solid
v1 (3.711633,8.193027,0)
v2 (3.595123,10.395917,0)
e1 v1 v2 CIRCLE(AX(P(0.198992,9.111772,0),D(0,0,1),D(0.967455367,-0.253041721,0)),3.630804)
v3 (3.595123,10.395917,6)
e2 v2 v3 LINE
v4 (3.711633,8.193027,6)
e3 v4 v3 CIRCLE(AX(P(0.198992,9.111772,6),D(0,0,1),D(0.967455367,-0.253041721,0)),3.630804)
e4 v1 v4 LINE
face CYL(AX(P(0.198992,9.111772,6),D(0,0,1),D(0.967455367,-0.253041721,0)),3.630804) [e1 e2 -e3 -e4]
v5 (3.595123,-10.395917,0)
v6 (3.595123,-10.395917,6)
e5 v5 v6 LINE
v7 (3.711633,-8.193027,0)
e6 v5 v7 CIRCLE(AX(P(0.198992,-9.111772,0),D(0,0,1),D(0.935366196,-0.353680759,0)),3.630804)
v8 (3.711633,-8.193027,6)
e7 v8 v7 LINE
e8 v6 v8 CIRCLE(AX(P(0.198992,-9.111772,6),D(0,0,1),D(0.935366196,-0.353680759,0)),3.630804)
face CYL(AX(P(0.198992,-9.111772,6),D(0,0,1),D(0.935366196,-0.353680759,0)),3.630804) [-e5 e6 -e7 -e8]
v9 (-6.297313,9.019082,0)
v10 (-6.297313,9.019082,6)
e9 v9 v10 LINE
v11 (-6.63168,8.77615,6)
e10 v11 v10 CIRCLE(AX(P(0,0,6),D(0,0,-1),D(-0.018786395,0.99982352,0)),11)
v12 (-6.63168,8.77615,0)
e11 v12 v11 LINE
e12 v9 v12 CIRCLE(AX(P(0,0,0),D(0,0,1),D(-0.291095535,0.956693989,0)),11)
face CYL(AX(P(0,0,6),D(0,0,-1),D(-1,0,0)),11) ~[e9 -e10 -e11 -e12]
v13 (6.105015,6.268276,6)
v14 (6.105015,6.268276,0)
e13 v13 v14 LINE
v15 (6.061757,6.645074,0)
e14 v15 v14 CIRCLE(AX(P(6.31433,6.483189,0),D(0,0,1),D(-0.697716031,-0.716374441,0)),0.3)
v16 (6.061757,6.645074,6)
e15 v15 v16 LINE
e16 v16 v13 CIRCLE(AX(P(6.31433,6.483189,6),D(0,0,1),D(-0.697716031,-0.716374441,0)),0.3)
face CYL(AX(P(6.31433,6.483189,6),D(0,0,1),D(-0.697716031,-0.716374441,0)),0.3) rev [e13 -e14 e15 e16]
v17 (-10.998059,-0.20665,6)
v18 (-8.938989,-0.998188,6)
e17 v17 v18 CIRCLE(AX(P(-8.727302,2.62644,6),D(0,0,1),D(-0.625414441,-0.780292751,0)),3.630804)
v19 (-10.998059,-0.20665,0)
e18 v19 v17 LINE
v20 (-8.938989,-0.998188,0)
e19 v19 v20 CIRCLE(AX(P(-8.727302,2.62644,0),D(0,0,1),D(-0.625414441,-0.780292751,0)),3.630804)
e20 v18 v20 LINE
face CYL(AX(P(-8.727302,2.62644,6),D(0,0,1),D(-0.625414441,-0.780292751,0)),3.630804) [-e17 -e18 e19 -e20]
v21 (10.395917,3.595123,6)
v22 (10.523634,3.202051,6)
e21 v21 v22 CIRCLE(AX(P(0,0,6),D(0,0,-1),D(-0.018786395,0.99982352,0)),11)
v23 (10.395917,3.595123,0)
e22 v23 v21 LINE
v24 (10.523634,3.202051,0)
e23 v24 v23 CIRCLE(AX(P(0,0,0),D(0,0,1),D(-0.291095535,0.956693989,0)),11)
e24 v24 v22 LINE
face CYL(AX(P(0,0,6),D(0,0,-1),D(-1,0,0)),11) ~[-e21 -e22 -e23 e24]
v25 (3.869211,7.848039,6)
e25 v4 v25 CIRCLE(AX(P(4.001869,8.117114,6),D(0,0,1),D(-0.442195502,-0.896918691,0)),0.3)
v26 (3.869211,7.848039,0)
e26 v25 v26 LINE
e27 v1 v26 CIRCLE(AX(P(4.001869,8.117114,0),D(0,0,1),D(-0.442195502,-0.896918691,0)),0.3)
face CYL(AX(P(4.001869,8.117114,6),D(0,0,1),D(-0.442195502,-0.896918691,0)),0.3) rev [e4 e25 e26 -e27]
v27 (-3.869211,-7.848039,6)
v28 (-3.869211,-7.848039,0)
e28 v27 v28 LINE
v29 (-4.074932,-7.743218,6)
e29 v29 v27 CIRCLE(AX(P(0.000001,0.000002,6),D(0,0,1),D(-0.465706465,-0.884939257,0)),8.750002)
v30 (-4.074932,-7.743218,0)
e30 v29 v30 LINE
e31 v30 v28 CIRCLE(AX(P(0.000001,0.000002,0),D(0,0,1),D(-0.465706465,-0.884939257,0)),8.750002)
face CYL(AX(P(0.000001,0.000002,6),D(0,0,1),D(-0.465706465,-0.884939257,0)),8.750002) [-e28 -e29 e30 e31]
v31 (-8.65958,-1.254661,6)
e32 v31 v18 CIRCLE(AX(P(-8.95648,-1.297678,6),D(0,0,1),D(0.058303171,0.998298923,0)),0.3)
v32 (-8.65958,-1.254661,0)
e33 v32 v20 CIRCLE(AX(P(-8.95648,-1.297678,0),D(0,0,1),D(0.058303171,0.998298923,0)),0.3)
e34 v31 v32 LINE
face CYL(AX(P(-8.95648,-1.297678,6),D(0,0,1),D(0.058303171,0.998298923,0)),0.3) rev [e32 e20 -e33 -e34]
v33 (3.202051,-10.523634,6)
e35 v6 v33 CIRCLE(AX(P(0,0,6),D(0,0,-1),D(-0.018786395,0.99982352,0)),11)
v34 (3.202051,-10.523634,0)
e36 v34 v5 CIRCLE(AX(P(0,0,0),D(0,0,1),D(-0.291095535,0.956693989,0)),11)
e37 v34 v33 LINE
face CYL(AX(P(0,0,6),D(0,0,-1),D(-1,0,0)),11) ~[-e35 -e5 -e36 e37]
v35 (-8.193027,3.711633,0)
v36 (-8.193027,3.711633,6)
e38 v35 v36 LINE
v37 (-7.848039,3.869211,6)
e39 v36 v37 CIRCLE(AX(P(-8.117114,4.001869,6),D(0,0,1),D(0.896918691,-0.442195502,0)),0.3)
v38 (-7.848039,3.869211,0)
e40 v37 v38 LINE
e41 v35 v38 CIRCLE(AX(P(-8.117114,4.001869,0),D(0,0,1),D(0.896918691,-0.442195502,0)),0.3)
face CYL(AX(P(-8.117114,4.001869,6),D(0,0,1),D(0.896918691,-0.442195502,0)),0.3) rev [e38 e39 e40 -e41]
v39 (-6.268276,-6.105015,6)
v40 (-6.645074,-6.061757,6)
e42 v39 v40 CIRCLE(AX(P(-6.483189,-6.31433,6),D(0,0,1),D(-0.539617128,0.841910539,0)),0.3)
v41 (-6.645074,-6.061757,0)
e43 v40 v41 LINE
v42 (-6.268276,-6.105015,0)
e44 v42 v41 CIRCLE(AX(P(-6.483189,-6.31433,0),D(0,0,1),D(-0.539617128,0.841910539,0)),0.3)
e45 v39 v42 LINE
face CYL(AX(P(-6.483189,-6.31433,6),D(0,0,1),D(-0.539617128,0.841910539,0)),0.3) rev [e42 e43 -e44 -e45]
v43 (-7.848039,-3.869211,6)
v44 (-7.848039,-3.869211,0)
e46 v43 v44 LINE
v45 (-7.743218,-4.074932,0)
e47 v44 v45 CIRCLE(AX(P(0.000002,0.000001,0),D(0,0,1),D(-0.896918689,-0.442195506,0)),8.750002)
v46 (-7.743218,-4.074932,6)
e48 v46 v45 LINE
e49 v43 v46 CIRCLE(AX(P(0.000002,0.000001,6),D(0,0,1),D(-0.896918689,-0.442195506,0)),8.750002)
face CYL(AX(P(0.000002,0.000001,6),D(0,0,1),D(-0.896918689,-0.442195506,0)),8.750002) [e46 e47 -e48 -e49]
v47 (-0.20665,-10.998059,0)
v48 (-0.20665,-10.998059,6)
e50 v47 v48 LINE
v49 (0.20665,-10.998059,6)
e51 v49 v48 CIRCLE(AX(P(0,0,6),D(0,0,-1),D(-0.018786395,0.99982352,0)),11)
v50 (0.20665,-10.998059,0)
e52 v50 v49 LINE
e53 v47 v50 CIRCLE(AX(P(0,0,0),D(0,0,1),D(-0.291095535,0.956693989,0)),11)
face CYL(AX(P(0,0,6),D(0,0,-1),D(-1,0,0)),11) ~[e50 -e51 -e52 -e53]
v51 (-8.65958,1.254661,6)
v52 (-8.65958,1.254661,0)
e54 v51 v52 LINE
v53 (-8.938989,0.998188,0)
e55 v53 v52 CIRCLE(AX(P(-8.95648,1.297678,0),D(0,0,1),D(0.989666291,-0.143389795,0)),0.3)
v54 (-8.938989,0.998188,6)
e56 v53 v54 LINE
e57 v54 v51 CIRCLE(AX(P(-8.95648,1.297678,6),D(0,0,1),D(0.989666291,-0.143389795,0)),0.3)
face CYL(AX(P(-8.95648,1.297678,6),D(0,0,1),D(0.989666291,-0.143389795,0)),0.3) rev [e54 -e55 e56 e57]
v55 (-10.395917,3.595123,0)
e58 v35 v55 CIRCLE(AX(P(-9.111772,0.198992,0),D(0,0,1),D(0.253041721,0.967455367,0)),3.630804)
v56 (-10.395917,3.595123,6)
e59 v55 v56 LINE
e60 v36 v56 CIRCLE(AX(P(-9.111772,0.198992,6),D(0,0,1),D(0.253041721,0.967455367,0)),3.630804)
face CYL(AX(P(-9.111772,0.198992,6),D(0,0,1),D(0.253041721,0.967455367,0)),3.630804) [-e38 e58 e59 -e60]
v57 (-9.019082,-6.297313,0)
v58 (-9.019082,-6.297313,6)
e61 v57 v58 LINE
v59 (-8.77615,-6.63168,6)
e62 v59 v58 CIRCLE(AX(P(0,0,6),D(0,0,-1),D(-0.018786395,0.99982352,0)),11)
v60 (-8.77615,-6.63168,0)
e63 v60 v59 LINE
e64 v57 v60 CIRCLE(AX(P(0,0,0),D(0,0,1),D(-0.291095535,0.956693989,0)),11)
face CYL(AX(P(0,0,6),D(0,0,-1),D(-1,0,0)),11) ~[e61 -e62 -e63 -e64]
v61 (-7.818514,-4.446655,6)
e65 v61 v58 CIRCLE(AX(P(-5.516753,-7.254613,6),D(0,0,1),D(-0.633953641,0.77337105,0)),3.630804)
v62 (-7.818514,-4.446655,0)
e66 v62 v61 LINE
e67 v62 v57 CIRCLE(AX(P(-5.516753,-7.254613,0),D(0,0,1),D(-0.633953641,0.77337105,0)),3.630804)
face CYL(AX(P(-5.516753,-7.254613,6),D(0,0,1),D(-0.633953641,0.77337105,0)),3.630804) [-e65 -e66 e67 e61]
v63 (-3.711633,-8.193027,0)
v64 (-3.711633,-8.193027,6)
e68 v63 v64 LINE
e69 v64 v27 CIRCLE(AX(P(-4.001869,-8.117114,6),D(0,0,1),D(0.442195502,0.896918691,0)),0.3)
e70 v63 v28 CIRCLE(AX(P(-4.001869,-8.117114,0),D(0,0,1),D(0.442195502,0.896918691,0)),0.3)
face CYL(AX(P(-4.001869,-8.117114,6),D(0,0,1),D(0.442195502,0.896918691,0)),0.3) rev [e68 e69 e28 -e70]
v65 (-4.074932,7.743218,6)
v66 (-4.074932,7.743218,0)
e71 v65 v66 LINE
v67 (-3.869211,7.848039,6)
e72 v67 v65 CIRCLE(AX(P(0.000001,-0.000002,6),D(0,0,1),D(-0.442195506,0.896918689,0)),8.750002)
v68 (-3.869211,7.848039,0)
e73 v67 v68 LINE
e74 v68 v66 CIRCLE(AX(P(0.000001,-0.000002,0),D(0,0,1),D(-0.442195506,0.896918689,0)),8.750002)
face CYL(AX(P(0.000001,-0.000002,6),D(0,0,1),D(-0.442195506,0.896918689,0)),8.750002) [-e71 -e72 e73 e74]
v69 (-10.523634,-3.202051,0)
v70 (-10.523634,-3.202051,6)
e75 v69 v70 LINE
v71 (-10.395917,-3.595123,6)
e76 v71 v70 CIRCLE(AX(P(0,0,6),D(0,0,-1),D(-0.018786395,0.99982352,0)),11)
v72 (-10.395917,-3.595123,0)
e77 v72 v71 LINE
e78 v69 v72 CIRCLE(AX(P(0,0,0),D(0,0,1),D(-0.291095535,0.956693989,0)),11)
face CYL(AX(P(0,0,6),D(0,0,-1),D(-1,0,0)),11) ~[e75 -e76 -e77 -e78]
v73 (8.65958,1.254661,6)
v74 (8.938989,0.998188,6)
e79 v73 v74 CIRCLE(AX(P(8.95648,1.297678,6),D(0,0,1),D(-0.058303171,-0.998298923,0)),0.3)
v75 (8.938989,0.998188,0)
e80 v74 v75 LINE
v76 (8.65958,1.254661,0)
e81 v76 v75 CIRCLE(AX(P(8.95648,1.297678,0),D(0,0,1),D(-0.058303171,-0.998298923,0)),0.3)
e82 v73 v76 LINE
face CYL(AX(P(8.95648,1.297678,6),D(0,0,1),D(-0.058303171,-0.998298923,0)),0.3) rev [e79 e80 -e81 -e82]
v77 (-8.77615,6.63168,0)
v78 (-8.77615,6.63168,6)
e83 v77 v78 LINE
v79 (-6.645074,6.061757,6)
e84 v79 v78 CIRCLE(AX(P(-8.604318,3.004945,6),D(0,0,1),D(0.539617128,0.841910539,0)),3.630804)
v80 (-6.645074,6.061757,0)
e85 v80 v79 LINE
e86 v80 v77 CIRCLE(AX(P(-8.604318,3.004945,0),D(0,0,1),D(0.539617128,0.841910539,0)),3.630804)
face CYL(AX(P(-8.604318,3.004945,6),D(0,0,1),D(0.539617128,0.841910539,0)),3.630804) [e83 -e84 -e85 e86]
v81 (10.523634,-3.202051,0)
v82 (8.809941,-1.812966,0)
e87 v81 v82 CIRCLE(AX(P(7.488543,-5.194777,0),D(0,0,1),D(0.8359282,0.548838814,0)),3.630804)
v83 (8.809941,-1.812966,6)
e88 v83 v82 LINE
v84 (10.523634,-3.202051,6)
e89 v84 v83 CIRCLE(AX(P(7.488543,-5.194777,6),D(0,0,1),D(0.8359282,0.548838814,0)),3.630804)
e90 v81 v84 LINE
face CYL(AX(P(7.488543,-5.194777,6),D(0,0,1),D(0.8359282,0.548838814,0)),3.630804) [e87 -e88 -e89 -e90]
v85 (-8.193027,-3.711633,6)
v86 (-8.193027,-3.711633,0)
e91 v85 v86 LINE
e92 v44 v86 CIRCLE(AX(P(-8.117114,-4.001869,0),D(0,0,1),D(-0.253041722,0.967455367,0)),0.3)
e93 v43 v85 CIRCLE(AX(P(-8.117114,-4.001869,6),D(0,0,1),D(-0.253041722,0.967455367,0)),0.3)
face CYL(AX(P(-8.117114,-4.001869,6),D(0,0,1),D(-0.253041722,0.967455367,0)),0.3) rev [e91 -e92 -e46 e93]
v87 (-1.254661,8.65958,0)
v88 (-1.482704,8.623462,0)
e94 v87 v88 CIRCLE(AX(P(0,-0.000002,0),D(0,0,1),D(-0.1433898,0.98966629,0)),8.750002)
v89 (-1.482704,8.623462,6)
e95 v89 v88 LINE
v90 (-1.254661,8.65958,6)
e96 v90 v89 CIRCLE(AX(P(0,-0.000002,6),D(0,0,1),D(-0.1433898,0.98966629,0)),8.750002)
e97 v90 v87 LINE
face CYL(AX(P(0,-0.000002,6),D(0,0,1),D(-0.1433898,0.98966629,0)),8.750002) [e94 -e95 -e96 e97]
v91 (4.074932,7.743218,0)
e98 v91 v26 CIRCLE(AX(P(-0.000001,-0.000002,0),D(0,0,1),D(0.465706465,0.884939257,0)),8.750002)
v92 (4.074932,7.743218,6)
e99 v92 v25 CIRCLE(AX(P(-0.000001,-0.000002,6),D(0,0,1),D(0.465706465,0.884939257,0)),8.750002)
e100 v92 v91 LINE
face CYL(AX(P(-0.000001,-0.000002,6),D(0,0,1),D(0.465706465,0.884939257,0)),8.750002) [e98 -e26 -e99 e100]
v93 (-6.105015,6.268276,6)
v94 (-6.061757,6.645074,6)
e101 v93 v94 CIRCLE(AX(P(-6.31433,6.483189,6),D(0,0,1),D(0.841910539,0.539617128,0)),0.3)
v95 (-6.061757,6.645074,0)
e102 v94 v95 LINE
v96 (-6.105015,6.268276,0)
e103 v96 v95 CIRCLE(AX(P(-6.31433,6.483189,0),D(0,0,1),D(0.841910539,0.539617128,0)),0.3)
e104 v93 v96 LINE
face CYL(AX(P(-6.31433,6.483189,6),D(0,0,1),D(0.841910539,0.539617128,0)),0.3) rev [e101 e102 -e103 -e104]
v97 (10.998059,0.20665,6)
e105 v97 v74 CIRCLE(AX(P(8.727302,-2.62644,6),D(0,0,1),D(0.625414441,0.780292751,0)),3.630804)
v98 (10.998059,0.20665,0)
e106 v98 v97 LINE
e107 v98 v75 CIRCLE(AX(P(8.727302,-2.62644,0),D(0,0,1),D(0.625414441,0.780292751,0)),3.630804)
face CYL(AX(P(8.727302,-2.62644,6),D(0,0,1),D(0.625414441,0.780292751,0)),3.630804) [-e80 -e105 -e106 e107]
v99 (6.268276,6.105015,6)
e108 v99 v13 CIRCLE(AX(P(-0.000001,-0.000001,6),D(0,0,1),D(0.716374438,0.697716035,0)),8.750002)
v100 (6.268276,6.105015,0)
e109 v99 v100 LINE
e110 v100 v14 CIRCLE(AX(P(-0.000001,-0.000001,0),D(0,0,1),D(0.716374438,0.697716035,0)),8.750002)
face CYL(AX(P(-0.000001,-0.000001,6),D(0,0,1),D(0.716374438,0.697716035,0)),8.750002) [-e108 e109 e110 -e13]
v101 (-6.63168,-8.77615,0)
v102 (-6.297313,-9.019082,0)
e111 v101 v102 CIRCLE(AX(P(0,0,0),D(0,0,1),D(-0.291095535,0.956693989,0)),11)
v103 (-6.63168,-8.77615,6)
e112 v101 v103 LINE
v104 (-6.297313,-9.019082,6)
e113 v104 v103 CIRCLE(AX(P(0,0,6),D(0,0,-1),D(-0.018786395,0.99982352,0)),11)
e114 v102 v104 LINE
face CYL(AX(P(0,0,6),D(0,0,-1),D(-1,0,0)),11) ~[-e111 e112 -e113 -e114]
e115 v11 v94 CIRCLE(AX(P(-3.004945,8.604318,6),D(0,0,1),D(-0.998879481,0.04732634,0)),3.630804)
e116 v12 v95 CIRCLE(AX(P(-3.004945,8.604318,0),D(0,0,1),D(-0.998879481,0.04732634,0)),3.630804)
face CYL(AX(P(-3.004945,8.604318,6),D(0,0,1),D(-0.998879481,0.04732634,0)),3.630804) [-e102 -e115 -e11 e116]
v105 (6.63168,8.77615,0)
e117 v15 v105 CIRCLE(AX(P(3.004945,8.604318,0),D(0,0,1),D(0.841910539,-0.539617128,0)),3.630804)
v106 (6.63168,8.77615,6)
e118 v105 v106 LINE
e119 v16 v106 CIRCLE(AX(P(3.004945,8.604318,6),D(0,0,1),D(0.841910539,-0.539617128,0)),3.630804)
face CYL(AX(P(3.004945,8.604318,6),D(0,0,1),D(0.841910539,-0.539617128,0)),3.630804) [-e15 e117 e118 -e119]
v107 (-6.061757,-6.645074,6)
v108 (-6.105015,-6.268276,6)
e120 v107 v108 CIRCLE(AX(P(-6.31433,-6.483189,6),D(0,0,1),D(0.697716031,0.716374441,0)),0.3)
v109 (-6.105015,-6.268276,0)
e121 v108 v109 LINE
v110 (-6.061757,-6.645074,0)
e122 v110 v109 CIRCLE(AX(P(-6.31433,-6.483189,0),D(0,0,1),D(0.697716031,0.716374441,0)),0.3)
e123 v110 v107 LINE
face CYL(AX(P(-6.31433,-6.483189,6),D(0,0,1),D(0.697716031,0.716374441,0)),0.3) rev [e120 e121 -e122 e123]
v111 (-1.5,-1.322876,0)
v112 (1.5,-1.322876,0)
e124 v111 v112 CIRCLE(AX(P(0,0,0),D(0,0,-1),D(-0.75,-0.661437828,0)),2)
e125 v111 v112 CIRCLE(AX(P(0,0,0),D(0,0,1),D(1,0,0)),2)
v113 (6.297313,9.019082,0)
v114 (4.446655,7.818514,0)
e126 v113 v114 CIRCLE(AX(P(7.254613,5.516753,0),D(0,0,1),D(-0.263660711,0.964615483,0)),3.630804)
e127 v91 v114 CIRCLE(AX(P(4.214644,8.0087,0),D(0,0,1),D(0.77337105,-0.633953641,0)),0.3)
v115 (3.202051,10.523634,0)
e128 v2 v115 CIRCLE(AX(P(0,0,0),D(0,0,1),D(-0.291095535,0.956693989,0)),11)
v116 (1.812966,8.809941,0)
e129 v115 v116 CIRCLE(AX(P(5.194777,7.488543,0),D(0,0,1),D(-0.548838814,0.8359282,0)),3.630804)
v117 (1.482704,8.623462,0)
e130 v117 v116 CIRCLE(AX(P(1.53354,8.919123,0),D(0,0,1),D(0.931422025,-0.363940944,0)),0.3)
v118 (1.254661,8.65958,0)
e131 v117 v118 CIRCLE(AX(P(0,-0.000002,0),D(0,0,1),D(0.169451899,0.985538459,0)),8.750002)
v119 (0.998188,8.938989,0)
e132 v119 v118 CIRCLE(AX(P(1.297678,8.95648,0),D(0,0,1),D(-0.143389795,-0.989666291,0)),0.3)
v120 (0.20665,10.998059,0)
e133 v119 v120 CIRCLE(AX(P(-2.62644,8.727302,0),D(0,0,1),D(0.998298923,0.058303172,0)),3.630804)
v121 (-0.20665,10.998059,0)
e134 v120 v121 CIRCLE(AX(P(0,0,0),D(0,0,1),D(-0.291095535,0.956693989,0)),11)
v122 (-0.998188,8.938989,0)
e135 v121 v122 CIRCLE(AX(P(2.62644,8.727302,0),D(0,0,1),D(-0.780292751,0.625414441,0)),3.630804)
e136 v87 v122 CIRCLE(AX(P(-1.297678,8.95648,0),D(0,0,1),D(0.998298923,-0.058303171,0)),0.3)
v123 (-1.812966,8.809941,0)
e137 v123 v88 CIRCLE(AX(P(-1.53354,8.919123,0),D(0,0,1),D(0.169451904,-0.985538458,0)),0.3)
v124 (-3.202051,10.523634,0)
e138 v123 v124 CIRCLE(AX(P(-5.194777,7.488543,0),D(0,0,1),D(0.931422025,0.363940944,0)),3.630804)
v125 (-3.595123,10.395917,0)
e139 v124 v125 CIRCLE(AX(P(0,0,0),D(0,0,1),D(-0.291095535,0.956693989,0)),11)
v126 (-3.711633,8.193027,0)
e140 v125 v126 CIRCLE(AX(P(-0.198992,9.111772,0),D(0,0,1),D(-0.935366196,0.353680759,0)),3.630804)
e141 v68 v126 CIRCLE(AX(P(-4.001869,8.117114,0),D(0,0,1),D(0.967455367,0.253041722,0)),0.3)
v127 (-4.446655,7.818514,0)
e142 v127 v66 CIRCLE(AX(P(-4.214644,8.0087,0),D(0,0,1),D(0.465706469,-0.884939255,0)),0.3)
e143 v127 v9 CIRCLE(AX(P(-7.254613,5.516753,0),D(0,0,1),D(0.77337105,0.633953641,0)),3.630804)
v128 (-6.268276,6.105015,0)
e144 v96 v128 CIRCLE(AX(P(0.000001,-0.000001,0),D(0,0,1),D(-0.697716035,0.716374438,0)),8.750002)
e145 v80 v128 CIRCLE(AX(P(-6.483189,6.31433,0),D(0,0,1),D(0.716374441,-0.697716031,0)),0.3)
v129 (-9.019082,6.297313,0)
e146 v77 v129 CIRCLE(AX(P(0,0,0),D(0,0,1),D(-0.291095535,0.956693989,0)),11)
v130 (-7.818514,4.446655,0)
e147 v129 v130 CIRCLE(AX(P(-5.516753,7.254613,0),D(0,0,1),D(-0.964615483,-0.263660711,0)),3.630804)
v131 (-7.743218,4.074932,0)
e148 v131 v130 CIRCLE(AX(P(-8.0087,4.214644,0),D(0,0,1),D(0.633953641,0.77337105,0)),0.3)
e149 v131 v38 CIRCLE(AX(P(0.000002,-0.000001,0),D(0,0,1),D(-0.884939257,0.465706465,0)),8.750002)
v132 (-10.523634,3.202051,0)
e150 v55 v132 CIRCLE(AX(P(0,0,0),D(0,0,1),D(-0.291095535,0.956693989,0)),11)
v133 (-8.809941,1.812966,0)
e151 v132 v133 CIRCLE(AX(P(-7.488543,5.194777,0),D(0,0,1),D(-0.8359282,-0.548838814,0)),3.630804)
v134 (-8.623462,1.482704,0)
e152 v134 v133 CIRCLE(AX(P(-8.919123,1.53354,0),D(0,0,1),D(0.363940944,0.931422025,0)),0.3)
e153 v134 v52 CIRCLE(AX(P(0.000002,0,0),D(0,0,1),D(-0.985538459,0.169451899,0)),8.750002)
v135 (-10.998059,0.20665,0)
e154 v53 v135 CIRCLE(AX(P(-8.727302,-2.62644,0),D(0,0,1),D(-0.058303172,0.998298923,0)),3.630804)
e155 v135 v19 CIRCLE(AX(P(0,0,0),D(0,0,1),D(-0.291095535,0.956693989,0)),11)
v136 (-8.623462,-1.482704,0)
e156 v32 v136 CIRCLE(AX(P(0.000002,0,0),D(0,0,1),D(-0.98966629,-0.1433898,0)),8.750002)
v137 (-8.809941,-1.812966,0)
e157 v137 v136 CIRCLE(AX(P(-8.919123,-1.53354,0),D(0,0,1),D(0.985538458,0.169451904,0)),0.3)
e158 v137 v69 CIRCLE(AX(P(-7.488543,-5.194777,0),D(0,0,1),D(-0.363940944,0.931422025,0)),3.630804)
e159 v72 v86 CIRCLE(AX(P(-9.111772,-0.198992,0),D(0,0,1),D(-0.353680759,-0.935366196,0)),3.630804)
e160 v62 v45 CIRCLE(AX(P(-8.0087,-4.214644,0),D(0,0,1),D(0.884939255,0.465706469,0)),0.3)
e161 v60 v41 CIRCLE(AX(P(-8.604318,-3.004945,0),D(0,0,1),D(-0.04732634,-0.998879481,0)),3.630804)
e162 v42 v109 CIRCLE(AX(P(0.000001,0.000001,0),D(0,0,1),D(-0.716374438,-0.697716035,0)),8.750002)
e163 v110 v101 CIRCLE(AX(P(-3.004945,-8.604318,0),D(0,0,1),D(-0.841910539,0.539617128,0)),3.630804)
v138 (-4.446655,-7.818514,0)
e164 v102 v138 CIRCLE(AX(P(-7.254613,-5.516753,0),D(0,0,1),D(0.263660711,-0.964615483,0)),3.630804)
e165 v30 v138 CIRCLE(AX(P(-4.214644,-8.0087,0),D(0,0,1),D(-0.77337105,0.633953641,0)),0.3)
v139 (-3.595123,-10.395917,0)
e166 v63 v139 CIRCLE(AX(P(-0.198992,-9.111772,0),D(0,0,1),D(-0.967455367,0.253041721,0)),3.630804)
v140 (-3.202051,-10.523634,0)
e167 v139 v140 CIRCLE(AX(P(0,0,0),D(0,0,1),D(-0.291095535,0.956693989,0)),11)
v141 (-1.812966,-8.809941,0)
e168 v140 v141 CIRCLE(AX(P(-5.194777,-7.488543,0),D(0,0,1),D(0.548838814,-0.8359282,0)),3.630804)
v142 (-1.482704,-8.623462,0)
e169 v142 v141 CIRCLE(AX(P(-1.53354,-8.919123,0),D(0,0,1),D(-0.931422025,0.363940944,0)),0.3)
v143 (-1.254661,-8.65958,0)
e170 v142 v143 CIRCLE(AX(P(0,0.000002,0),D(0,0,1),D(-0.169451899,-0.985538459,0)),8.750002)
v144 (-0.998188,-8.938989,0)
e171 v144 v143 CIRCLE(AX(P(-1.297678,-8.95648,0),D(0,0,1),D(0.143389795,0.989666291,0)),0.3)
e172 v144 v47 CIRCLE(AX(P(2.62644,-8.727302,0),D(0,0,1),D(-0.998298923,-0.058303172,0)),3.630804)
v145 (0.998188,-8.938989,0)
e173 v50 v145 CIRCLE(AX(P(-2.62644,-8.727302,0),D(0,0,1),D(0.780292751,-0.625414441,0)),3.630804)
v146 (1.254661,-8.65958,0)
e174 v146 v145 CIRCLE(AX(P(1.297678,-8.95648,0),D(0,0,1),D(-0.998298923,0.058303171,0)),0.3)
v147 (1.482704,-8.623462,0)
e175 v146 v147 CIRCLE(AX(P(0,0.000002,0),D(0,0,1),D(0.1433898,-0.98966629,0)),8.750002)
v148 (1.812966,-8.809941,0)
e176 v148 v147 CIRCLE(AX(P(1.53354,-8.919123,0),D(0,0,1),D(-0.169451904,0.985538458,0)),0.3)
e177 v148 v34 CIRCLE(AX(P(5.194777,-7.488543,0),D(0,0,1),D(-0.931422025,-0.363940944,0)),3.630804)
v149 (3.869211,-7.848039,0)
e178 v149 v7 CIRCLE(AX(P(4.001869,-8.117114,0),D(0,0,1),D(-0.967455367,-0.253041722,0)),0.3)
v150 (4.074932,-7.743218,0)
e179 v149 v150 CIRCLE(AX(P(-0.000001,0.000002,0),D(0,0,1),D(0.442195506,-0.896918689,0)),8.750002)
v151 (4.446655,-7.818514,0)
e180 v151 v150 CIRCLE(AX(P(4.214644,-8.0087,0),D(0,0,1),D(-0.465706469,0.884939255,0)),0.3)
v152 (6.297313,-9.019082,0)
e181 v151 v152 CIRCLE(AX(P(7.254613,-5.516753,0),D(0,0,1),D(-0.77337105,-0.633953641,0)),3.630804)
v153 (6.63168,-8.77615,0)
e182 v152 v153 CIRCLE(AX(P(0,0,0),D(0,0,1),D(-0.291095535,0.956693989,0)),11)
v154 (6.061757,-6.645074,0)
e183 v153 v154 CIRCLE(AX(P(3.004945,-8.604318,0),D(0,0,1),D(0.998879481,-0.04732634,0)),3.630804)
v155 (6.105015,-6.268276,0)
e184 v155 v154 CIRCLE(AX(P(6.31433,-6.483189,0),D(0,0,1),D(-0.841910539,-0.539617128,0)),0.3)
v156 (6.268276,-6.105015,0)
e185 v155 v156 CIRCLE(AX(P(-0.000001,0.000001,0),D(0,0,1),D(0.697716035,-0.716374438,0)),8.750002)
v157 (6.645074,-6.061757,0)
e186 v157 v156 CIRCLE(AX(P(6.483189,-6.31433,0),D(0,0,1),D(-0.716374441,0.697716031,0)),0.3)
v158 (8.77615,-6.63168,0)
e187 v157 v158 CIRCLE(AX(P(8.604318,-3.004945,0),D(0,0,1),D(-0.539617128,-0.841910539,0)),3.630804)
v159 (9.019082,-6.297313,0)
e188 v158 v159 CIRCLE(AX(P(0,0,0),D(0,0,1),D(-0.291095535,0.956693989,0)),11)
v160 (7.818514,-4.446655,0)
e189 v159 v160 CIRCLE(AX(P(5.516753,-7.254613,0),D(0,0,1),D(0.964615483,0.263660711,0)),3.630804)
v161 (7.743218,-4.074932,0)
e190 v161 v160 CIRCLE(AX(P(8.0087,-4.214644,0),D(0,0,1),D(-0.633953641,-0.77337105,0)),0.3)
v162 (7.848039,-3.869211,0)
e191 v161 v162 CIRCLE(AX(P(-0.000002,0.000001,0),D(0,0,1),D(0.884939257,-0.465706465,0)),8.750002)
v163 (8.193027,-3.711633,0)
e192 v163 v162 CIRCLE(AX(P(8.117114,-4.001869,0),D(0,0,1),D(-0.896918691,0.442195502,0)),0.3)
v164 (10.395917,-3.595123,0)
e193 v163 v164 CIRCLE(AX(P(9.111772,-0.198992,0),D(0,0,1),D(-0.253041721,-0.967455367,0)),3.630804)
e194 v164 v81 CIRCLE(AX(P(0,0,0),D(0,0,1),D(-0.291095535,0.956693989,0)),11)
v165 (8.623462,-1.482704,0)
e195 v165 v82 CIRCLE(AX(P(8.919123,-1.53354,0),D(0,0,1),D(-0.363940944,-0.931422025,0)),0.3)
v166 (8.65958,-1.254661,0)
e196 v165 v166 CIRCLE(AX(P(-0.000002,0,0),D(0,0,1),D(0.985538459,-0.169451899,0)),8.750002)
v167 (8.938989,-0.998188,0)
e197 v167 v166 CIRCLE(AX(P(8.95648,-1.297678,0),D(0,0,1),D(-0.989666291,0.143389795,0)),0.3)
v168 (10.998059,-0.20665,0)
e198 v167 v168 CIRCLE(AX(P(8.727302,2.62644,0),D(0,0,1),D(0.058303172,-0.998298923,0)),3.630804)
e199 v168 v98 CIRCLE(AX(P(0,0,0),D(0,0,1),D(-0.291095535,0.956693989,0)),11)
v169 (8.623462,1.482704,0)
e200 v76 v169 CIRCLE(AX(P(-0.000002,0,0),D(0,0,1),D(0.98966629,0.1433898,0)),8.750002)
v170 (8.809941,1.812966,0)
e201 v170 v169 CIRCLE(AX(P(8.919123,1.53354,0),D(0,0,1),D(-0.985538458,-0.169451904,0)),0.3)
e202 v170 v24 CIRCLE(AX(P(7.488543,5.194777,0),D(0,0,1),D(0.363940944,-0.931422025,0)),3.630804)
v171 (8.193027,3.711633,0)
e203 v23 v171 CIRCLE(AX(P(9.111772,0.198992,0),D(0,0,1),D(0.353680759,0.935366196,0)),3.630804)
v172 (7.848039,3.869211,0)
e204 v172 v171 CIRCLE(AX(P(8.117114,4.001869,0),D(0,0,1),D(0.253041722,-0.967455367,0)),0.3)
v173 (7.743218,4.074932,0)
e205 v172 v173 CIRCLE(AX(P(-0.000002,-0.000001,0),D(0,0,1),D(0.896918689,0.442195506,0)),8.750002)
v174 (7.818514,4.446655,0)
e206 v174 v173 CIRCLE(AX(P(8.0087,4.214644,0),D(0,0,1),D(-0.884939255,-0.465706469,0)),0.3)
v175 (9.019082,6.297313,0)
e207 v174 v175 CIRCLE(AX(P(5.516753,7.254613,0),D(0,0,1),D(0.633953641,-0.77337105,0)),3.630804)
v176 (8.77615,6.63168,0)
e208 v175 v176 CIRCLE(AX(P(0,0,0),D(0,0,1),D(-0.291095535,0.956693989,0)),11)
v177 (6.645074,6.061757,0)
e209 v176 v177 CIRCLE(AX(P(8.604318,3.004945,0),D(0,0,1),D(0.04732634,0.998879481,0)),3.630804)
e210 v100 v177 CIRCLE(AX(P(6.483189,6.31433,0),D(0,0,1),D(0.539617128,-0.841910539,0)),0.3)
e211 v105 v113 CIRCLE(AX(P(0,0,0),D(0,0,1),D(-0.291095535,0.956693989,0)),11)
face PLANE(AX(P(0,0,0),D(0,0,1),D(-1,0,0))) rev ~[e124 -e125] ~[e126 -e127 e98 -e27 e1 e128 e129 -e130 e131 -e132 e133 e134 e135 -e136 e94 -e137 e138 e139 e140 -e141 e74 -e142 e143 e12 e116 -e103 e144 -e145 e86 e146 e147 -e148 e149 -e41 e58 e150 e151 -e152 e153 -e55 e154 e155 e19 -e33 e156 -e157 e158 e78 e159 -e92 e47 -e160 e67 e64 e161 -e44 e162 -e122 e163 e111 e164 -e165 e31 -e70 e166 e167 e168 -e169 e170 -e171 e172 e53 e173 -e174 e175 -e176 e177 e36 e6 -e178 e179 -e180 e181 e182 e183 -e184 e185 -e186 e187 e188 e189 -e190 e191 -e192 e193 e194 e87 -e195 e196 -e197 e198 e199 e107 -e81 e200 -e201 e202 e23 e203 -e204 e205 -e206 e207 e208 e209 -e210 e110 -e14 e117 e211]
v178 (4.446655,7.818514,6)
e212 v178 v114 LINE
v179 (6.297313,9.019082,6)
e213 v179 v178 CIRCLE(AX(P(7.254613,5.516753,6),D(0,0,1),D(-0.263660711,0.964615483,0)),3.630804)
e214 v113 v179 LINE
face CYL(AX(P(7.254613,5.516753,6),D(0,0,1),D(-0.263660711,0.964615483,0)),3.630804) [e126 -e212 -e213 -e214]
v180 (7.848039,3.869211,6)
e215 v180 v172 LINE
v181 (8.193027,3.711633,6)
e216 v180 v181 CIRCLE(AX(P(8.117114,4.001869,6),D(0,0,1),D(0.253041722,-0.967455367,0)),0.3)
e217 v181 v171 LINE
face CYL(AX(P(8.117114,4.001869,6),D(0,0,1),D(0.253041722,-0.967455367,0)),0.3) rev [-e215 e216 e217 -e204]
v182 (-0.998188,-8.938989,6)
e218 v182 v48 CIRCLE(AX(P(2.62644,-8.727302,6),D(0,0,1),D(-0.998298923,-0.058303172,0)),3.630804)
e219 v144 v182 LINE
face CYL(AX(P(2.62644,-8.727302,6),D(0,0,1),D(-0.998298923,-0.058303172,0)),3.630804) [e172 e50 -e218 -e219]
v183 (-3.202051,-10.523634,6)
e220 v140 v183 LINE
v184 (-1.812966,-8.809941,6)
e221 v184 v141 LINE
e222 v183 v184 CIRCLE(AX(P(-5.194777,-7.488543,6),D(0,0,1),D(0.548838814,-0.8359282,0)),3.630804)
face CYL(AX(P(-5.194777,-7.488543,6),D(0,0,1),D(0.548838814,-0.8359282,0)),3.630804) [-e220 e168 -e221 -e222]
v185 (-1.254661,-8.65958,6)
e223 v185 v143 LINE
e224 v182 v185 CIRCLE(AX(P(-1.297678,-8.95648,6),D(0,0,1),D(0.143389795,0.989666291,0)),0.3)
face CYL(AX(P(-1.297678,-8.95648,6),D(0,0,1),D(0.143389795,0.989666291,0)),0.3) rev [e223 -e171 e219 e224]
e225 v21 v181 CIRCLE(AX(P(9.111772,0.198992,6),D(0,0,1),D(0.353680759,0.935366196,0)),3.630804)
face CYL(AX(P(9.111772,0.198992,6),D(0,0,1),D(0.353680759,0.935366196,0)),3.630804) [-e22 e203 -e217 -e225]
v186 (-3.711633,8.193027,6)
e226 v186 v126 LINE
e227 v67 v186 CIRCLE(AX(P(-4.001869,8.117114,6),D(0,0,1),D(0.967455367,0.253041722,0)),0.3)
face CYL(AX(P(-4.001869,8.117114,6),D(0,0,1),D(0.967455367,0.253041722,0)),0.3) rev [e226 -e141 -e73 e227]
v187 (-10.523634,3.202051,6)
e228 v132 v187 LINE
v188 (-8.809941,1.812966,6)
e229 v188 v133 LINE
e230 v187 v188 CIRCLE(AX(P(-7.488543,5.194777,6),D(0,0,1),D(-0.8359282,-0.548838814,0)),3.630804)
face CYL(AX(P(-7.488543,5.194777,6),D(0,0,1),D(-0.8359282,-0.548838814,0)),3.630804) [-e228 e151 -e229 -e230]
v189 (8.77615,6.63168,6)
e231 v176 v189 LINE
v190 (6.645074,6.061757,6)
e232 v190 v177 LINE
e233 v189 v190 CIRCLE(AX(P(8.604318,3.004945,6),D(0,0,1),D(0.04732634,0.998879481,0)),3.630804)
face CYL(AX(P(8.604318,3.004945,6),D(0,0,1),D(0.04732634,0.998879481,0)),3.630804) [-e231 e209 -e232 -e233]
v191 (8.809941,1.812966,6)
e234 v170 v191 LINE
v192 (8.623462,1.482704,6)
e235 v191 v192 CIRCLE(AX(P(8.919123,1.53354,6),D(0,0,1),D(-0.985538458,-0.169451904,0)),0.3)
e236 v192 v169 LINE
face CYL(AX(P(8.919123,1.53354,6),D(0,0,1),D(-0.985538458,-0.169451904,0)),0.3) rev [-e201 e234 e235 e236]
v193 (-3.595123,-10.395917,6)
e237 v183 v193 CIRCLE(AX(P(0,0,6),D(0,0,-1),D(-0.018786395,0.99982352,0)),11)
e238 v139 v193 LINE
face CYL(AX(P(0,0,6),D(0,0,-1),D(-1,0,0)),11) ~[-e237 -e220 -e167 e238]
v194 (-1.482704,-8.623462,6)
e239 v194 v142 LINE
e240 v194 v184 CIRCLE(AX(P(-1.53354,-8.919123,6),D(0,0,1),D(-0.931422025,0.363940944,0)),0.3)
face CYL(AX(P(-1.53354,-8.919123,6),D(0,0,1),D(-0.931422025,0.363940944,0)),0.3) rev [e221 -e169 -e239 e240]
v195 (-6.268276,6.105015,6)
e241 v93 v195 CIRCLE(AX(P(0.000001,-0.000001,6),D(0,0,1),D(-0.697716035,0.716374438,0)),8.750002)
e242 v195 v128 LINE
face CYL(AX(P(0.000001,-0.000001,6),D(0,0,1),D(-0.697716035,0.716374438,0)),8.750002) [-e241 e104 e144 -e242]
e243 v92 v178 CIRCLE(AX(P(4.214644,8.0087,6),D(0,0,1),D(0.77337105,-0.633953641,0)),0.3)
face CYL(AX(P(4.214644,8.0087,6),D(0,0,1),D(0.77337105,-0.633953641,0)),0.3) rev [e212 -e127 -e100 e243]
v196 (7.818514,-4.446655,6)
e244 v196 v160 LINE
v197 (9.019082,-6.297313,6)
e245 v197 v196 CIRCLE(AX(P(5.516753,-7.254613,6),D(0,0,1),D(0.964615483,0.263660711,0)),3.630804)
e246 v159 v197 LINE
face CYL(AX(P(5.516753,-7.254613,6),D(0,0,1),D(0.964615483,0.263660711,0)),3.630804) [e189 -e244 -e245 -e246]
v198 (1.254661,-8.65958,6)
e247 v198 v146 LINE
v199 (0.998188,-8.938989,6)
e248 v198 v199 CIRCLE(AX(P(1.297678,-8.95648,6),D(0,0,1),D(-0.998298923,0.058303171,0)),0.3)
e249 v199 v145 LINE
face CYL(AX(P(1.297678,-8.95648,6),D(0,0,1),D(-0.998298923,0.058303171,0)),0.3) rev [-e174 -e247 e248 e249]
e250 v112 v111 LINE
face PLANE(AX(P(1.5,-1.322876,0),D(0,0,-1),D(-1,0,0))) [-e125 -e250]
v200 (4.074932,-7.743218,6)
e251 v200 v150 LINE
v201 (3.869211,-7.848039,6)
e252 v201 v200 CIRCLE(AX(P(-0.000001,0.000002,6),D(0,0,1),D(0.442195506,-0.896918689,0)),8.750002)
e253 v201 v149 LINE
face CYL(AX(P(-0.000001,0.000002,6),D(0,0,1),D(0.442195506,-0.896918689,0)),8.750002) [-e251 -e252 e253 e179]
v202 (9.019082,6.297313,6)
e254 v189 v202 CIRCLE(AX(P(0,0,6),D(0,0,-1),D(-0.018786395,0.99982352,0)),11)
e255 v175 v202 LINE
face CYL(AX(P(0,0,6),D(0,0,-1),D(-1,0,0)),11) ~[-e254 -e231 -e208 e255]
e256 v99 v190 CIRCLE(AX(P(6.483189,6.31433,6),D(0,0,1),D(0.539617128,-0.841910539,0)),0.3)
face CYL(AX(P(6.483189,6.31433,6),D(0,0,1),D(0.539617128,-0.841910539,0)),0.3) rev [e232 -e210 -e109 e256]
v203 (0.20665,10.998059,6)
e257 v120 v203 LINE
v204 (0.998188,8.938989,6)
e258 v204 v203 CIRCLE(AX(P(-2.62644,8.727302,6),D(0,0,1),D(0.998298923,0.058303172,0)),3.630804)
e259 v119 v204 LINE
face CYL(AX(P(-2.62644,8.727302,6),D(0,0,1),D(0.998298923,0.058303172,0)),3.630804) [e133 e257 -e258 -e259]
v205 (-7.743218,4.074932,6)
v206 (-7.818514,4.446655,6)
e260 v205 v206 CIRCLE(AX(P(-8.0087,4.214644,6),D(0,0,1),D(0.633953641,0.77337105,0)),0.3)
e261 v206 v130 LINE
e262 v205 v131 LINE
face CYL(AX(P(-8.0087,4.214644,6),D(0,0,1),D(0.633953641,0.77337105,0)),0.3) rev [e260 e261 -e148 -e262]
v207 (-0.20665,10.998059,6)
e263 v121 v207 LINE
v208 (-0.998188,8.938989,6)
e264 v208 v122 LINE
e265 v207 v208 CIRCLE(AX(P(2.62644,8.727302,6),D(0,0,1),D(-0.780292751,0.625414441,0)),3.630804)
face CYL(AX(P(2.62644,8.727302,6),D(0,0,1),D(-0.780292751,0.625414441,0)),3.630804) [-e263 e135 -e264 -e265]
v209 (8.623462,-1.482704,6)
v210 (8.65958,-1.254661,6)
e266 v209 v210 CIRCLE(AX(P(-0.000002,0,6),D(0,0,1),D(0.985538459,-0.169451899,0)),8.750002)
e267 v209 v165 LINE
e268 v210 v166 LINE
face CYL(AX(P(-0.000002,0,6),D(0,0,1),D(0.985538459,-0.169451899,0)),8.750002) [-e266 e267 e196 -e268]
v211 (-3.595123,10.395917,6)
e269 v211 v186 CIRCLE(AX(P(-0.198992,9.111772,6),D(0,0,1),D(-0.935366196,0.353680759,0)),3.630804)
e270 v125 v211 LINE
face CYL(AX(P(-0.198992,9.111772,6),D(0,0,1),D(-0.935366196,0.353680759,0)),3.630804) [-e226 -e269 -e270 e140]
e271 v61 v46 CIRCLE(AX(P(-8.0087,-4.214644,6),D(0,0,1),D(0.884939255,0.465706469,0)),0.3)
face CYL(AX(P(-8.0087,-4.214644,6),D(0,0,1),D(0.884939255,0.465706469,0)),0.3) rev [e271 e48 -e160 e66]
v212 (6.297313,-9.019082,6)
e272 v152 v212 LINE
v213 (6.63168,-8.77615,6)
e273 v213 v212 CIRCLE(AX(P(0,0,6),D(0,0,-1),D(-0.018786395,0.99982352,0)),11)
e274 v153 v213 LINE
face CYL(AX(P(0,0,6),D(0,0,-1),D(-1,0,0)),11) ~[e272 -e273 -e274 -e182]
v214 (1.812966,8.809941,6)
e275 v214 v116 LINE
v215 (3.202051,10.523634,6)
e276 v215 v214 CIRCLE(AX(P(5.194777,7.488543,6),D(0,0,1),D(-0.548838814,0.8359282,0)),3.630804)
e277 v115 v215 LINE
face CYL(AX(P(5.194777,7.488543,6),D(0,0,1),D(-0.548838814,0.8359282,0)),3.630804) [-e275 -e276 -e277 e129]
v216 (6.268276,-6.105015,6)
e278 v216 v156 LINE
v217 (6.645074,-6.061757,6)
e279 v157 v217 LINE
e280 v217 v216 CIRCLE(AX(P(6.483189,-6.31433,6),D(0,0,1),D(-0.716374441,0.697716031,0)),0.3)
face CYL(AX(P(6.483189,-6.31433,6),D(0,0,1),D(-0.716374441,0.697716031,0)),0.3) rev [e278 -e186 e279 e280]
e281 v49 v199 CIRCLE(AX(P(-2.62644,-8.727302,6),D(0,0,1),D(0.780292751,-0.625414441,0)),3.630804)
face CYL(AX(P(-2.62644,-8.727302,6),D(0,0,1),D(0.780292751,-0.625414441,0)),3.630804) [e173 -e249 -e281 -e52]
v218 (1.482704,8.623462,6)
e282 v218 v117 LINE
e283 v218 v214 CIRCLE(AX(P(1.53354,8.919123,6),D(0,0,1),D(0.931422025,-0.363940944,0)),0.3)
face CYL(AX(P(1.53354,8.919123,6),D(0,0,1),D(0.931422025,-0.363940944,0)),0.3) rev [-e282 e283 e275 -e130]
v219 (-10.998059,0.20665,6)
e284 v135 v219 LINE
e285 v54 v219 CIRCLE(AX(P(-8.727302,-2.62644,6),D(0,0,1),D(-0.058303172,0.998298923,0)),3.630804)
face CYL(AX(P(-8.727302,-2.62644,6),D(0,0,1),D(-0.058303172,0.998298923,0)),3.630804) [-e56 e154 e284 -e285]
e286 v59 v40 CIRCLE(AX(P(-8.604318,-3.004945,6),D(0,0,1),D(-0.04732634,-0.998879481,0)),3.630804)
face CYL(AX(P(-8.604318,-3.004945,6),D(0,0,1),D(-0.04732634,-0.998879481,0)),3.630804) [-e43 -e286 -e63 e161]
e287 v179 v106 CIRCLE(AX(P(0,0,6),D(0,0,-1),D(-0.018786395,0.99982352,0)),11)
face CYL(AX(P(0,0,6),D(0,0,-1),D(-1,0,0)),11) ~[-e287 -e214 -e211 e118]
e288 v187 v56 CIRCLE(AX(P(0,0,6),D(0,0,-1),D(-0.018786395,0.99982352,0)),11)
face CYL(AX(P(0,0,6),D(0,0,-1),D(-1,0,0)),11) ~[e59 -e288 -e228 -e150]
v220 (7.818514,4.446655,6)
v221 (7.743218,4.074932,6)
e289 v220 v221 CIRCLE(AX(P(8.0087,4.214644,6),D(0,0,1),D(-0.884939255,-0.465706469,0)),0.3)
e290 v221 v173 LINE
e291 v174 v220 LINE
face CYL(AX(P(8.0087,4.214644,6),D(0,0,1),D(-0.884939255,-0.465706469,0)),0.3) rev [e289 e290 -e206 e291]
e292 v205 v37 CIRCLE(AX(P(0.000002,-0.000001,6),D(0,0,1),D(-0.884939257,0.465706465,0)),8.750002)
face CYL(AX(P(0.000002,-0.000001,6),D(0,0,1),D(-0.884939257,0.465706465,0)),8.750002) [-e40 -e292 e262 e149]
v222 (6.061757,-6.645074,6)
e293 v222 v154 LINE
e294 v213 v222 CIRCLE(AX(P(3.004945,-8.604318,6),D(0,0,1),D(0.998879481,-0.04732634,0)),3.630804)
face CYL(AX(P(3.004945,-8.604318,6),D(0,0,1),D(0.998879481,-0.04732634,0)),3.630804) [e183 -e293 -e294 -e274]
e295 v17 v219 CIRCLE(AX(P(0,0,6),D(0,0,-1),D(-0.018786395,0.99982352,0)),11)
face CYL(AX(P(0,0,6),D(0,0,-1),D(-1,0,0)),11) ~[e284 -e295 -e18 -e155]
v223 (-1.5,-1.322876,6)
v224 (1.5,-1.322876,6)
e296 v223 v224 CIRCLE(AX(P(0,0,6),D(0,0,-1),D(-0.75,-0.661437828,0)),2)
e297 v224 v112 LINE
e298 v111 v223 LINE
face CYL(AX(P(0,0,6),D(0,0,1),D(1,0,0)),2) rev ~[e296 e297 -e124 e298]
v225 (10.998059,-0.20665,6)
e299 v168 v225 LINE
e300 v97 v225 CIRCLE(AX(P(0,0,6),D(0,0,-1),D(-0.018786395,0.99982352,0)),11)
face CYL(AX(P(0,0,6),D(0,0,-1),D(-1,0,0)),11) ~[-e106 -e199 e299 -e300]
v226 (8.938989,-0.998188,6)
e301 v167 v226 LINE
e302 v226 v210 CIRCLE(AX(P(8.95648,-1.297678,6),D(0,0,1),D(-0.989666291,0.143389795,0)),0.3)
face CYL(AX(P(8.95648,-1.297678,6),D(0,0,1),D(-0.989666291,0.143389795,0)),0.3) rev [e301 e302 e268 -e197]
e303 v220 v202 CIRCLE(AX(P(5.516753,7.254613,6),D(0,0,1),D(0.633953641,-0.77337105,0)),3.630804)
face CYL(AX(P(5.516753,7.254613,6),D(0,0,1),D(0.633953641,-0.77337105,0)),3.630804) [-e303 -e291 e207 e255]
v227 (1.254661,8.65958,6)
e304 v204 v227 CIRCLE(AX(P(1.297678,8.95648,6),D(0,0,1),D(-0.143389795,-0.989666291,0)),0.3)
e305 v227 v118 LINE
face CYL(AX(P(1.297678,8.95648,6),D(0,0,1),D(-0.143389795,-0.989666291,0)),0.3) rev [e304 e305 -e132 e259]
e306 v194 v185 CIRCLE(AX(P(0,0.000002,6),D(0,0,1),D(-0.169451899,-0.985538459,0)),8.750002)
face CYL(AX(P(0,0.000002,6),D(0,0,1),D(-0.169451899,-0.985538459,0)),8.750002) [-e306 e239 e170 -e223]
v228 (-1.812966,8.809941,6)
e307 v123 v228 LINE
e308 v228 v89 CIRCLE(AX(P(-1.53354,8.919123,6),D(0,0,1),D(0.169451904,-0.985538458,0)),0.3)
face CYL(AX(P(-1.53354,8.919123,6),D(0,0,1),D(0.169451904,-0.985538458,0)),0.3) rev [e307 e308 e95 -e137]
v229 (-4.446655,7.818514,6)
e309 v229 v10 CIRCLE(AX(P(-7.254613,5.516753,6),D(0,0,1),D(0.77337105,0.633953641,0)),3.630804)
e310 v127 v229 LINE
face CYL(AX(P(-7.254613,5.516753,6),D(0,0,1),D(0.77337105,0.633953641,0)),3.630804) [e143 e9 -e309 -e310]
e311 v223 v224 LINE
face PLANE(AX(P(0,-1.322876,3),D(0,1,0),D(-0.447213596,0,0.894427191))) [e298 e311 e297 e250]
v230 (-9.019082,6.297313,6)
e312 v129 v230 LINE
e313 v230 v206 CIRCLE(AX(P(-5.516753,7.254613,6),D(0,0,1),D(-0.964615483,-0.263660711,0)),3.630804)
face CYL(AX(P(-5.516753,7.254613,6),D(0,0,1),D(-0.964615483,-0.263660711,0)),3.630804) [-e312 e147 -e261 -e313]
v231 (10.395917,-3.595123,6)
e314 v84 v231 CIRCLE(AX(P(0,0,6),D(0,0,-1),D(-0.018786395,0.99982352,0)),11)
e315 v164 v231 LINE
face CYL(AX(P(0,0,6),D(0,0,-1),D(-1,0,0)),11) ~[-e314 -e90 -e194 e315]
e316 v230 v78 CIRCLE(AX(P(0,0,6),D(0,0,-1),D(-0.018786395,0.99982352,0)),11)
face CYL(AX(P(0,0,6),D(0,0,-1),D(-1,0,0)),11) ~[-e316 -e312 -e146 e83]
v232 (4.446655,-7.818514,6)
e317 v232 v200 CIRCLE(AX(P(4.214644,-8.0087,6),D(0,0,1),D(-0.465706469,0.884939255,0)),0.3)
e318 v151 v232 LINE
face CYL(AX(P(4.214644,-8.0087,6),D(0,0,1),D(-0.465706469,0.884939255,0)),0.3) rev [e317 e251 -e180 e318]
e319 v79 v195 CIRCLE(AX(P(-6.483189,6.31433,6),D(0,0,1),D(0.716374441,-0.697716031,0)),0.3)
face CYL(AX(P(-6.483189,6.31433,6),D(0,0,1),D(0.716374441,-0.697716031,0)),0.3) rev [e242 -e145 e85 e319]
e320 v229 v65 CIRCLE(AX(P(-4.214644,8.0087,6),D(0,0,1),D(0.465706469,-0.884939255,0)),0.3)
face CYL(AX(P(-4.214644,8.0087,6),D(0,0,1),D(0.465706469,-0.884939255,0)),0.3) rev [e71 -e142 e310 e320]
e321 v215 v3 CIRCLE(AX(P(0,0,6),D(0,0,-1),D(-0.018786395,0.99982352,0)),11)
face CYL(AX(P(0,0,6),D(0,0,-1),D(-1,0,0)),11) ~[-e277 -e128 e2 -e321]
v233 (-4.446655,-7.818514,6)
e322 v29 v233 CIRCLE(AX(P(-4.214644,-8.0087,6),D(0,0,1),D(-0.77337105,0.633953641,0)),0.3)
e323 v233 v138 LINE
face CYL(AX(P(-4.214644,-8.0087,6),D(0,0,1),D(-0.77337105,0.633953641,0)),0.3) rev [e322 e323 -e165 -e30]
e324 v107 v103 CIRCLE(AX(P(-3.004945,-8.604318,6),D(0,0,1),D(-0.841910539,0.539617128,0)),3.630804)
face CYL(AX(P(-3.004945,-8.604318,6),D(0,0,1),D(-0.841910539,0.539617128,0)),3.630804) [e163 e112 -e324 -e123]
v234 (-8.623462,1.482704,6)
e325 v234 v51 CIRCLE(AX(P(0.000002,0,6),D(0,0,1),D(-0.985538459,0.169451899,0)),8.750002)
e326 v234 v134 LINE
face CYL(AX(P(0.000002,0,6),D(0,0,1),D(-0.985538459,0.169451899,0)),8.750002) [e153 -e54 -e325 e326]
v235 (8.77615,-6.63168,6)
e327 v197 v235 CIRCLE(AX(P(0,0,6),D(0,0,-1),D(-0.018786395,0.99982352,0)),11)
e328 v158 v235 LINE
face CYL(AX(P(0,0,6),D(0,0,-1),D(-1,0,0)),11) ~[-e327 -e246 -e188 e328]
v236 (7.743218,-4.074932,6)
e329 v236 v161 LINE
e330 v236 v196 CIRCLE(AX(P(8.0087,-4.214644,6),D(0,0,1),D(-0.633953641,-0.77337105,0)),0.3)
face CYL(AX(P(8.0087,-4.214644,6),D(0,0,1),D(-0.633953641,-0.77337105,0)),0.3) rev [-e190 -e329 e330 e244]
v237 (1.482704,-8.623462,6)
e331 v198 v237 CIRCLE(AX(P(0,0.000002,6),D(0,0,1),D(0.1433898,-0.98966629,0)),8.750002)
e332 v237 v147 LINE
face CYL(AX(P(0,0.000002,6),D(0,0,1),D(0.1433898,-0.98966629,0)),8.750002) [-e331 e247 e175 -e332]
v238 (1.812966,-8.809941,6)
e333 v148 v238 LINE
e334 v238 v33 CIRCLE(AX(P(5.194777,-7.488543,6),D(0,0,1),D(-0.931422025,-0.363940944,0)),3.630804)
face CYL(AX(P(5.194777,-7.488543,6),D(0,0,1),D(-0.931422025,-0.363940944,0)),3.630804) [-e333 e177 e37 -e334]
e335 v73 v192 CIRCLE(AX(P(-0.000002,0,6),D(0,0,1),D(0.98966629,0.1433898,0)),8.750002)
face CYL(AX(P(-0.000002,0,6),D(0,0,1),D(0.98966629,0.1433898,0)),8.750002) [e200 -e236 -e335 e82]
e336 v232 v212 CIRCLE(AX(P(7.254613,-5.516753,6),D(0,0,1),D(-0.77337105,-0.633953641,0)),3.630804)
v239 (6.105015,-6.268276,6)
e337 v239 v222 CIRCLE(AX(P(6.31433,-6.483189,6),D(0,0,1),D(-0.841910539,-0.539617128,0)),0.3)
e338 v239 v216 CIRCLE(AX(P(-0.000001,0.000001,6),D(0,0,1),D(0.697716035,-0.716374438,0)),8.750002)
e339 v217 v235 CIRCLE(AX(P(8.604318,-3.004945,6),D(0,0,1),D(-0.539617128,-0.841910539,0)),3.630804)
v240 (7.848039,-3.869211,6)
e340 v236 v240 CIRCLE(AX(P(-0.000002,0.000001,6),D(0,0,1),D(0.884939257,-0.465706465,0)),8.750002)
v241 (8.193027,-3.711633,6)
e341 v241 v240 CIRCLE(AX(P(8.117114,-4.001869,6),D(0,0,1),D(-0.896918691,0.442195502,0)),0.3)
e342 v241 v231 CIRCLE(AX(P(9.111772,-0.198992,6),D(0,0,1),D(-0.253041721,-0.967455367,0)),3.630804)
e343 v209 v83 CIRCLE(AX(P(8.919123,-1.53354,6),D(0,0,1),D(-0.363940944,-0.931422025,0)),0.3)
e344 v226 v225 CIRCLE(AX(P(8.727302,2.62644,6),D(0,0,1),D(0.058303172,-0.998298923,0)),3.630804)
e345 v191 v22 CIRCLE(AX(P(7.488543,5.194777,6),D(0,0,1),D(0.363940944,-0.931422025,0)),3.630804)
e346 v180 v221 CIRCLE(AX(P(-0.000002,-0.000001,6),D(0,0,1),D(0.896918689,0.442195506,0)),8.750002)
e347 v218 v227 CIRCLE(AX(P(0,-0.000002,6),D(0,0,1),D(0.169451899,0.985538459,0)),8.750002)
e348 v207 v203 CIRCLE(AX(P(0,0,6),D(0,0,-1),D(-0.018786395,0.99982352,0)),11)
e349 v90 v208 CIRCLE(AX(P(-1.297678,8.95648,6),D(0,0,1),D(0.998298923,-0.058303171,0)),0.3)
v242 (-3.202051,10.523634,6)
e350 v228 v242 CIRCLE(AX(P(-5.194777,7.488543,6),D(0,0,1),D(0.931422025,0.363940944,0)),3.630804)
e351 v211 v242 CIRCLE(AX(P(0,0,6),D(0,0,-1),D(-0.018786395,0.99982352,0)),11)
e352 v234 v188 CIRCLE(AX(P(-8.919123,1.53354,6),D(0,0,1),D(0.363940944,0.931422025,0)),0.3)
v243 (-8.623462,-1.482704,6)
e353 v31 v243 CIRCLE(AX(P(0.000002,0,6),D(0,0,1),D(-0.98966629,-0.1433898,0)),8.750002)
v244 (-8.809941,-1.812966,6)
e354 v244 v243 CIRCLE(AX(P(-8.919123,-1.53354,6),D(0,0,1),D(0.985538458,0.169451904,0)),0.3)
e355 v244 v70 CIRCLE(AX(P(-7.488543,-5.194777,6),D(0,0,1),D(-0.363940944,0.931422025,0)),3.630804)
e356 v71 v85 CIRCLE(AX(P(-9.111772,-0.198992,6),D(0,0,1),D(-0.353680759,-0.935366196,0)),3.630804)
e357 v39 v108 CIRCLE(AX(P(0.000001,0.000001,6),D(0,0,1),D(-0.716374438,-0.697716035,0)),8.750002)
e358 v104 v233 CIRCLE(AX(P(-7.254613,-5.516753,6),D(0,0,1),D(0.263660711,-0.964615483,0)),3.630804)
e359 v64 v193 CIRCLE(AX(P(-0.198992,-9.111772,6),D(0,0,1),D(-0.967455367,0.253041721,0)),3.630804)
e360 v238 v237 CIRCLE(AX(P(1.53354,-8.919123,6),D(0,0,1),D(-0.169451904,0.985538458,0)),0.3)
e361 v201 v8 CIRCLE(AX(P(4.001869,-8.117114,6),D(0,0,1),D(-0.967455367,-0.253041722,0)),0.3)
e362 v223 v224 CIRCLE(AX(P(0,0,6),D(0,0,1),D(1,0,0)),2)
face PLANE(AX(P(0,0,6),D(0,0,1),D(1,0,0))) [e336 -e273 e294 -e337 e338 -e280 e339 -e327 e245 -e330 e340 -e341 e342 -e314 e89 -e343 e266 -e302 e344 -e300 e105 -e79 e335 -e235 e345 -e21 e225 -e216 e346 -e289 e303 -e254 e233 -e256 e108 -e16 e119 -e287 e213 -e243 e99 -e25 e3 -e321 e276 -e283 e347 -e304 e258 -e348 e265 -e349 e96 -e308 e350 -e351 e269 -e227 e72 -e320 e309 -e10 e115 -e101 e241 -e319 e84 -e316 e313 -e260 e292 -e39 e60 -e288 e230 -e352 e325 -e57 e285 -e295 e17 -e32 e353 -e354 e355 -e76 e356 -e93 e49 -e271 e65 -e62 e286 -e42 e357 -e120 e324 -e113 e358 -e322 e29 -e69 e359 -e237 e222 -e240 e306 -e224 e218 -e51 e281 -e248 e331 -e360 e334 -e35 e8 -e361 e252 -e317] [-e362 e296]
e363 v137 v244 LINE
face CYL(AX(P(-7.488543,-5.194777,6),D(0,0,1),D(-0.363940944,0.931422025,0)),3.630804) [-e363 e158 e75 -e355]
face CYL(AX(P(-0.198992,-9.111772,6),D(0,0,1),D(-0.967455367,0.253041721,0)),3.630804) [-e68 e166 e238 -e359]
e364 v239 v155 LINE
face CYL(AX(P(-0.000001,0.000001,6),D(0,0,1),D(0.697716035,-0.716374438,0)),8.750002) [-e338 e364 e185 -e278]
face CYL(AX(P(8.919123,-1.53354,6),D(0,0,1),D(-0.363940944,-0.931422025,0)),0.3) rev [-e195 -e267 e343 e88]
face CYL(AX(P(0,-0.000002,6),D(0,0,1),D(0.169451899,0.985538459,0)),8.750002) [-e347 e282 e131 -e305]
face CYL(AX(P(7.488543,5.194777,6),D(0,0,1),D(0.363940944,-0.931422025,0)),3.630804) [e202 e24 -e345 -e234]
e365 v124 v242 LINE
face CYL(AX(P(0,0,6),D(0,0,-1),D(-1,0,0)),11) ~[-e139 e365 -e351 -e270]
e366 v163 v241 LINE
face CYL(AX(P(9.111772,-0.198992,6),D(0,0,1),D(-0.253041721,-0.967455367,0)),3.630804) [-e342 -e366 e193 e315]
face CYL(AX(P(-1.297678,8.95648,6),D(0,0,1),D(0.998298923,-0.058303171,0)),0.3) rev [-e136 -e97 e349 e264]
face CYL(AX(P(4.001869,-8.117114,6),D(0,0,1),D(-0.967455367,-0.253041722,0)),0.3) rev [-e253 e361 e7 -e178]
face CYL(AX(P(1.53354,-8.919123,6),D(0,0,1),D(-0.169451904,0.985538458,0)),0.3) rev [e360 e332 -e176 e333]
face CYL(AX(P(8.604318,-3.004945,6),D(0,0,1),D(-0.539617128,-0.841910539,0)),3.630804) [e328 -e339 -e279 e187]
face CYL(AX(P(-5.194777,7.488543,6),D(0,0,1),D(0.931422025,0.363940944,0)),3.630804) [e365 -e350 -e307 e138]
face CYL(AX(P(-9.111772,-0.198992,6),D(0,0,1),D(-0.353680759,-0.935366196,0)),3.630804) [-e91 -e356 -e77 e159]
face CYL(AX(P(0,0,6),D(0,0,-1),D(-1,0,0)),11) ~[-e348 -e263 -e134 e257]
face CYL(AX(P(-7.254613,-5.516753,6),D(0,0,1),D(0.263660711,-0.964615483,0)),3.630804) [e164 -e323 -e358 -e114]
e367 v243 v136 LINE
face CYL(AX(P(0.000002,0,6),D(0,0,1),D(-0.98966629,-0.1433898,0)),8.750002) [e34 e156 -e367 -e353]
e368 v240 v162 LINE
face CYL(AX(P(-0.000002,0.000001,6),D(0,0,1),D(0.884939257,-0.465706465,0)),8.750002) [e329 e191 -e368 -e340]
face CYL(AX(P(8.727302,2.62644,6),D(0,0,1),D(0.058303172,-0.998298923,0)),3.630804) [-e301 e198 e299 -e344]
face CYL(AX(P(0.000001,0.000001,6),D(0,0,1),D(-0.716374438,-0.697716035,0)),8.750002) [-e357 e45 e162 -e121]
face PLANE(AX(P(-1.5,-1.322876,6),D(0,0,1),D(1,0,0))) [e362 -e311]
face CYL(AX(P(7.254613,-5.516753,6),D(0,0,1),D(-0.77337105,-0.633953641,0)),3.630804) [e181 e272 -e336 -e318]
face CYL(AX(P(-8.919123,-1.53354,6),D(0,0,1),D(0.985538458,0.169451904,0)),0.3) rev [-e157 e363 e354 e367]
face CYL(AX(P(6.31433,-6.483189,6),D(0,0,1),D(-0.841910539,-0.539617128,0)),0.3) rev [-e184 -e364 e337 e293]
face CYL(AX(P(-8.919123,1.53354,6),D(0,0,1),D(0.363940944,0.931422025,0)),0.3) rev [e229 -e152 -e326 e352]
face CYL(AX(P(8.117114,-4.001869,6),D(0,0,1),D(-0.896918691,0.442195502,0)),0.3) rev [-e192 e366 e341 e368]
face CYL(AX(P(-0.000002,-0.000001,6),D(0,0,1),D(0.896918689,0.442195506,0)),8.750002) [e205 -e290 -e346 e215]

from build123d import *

# Parameters (mm, degrees)
CUT_EXTRUDE1_DEPTH  = 20.646882704
CIRPATTERN1_COUNT   = 20
SKETCH5_R           = 7.15
SKETCH5_R_2         = 2
BOSS_EXTRUDE1_DEPTH = 6
CUT_EXTRUDE2_REACH  = 18.673
SKETCH6_R           = 5.85
BOSS_EXTRUDE2_DEPTH = 3


with BuildPart() as part:
    # Sketch3 → Revolve1 (revolve)
    with BuildSketch(Plane(origin=(0, 0, 0), x_dir=(0, 0, -1), z_dir=(1, 0, 0)), mode=Mode.PRIVATE) as revolve1_sk:
        Polygon((-6, 11), (0, 11), (0, 7.15), (-1.714285714, 7.15), (-1.714285714, 5.85), (6, 5.85), (6, 2.5), (-6, 2.5), (-6, 5.85), (-4.285714286, 5.85), (-4.285714286, 7.15), (-6, 7.15), align=None)
    revolve(revolve1_sk.sketch.rotate(Axis((0, 0, -6), (0, 0, 1)), 90), axis=Axis((0, 0, -6), (0, 0, 1)))

    # Sketch4 → Cut-Extrude1 (cut, symmetric)
    with BuildSketch(Plane.XY.offset(6)):
        with BuildLine():
            ThreePointArc((-0.206650348, 10.998058721), (-0.762582532, 10.030093075), (-0.998187985, 8.938988976))
            ThreePointArc((-0.998187985, 8.938988976), (-1.076668536, 8.753613059), (-1.254660723, 8.65958004))
            ThreePointArc((-1.254660723, 8.65958004), (-1.368801569, 8.64227298), (-1.48270414, 8.623461511))
            ThreePointArc((-1.48270414, 8.623461511), (-1.681042571, 8.657889616), (-1.812966318, 8.809940765))
            ThreePointArc((-1.812966318, 8.809940765), (-2.374210129, 9.77483634), (-3.20205089, 10.523633883))
            ThreePointArc((-3.20205089, 10.523633883), (-1.720779115, 10.864571747), (-0.206650348, 10.998058721))
        make_face()
    cut_extrude1 = extrude(amount=CUT_EXTRUDE1_DEPTH, both=True, mode=Mode.SUBTRACT)

    # CirPattern1: Cut-Extrude1 ×20 about axis
    cirpattern1_axis = Axis((0, 0, 0), (0, 0, 1))
    for i in range(1, CIRPATTERN1_COUNT):
        add(cut_extrude1.rotate(cirpattern1_axis, i * 360 / CIRPATTERN1_COUNT), mode=Mode.SUBTRACT)

    # Sketch5 → Boss-Extrude1 (add)
    with BuildSketch(Plane.XY.offset(6)):
        Circle(SKETCH5_R)
        Circle(SKETCH5_R_2, mode=Mode.SUBTRACT)
    extrude(amount=-BOSS_EXTRUDE1_DEPTH)

    # Sketch6 → Cut-Extrude2 (cut, up to next)
    with BuildSketch(Plane(origin=(0, 0, 0), x_dir=(-1, 0, 0), z_dir=(0, 0, -1)), mode=Mode.PRIVATE) as cut_extrude2_sk1:
        Circle(SKETCH6_R)
    cut_extrude2_tool1 = extrude(cut_extrude2_sk1.sketch, amount=CUT_EXTRUDE2_REACH, mode=Mode.PRIVATE) & part.part
    add(cut_extrude2_tool1.solids().sort_by_distance((0, 0, 0))[0], mode=Mode.SUBTRACT)

    # 3DSketch1 → Boss-Extrude2 (add)
    with BuildSketch(Plane(origin=(-1.5, -1.322875656, 6), x_dir=(0.4472135954999579, 0, -0.894427190999916), z_dir=(0, -1, 0))):
        Polygon((0, 0), (1.341640786, 2.683281573), (6.708203932, 0), (5.366563146, -2.683281573), align=None)
    extrude(amount=BOSS_EXTRUDE2_DEPTH)


solid = part.part
